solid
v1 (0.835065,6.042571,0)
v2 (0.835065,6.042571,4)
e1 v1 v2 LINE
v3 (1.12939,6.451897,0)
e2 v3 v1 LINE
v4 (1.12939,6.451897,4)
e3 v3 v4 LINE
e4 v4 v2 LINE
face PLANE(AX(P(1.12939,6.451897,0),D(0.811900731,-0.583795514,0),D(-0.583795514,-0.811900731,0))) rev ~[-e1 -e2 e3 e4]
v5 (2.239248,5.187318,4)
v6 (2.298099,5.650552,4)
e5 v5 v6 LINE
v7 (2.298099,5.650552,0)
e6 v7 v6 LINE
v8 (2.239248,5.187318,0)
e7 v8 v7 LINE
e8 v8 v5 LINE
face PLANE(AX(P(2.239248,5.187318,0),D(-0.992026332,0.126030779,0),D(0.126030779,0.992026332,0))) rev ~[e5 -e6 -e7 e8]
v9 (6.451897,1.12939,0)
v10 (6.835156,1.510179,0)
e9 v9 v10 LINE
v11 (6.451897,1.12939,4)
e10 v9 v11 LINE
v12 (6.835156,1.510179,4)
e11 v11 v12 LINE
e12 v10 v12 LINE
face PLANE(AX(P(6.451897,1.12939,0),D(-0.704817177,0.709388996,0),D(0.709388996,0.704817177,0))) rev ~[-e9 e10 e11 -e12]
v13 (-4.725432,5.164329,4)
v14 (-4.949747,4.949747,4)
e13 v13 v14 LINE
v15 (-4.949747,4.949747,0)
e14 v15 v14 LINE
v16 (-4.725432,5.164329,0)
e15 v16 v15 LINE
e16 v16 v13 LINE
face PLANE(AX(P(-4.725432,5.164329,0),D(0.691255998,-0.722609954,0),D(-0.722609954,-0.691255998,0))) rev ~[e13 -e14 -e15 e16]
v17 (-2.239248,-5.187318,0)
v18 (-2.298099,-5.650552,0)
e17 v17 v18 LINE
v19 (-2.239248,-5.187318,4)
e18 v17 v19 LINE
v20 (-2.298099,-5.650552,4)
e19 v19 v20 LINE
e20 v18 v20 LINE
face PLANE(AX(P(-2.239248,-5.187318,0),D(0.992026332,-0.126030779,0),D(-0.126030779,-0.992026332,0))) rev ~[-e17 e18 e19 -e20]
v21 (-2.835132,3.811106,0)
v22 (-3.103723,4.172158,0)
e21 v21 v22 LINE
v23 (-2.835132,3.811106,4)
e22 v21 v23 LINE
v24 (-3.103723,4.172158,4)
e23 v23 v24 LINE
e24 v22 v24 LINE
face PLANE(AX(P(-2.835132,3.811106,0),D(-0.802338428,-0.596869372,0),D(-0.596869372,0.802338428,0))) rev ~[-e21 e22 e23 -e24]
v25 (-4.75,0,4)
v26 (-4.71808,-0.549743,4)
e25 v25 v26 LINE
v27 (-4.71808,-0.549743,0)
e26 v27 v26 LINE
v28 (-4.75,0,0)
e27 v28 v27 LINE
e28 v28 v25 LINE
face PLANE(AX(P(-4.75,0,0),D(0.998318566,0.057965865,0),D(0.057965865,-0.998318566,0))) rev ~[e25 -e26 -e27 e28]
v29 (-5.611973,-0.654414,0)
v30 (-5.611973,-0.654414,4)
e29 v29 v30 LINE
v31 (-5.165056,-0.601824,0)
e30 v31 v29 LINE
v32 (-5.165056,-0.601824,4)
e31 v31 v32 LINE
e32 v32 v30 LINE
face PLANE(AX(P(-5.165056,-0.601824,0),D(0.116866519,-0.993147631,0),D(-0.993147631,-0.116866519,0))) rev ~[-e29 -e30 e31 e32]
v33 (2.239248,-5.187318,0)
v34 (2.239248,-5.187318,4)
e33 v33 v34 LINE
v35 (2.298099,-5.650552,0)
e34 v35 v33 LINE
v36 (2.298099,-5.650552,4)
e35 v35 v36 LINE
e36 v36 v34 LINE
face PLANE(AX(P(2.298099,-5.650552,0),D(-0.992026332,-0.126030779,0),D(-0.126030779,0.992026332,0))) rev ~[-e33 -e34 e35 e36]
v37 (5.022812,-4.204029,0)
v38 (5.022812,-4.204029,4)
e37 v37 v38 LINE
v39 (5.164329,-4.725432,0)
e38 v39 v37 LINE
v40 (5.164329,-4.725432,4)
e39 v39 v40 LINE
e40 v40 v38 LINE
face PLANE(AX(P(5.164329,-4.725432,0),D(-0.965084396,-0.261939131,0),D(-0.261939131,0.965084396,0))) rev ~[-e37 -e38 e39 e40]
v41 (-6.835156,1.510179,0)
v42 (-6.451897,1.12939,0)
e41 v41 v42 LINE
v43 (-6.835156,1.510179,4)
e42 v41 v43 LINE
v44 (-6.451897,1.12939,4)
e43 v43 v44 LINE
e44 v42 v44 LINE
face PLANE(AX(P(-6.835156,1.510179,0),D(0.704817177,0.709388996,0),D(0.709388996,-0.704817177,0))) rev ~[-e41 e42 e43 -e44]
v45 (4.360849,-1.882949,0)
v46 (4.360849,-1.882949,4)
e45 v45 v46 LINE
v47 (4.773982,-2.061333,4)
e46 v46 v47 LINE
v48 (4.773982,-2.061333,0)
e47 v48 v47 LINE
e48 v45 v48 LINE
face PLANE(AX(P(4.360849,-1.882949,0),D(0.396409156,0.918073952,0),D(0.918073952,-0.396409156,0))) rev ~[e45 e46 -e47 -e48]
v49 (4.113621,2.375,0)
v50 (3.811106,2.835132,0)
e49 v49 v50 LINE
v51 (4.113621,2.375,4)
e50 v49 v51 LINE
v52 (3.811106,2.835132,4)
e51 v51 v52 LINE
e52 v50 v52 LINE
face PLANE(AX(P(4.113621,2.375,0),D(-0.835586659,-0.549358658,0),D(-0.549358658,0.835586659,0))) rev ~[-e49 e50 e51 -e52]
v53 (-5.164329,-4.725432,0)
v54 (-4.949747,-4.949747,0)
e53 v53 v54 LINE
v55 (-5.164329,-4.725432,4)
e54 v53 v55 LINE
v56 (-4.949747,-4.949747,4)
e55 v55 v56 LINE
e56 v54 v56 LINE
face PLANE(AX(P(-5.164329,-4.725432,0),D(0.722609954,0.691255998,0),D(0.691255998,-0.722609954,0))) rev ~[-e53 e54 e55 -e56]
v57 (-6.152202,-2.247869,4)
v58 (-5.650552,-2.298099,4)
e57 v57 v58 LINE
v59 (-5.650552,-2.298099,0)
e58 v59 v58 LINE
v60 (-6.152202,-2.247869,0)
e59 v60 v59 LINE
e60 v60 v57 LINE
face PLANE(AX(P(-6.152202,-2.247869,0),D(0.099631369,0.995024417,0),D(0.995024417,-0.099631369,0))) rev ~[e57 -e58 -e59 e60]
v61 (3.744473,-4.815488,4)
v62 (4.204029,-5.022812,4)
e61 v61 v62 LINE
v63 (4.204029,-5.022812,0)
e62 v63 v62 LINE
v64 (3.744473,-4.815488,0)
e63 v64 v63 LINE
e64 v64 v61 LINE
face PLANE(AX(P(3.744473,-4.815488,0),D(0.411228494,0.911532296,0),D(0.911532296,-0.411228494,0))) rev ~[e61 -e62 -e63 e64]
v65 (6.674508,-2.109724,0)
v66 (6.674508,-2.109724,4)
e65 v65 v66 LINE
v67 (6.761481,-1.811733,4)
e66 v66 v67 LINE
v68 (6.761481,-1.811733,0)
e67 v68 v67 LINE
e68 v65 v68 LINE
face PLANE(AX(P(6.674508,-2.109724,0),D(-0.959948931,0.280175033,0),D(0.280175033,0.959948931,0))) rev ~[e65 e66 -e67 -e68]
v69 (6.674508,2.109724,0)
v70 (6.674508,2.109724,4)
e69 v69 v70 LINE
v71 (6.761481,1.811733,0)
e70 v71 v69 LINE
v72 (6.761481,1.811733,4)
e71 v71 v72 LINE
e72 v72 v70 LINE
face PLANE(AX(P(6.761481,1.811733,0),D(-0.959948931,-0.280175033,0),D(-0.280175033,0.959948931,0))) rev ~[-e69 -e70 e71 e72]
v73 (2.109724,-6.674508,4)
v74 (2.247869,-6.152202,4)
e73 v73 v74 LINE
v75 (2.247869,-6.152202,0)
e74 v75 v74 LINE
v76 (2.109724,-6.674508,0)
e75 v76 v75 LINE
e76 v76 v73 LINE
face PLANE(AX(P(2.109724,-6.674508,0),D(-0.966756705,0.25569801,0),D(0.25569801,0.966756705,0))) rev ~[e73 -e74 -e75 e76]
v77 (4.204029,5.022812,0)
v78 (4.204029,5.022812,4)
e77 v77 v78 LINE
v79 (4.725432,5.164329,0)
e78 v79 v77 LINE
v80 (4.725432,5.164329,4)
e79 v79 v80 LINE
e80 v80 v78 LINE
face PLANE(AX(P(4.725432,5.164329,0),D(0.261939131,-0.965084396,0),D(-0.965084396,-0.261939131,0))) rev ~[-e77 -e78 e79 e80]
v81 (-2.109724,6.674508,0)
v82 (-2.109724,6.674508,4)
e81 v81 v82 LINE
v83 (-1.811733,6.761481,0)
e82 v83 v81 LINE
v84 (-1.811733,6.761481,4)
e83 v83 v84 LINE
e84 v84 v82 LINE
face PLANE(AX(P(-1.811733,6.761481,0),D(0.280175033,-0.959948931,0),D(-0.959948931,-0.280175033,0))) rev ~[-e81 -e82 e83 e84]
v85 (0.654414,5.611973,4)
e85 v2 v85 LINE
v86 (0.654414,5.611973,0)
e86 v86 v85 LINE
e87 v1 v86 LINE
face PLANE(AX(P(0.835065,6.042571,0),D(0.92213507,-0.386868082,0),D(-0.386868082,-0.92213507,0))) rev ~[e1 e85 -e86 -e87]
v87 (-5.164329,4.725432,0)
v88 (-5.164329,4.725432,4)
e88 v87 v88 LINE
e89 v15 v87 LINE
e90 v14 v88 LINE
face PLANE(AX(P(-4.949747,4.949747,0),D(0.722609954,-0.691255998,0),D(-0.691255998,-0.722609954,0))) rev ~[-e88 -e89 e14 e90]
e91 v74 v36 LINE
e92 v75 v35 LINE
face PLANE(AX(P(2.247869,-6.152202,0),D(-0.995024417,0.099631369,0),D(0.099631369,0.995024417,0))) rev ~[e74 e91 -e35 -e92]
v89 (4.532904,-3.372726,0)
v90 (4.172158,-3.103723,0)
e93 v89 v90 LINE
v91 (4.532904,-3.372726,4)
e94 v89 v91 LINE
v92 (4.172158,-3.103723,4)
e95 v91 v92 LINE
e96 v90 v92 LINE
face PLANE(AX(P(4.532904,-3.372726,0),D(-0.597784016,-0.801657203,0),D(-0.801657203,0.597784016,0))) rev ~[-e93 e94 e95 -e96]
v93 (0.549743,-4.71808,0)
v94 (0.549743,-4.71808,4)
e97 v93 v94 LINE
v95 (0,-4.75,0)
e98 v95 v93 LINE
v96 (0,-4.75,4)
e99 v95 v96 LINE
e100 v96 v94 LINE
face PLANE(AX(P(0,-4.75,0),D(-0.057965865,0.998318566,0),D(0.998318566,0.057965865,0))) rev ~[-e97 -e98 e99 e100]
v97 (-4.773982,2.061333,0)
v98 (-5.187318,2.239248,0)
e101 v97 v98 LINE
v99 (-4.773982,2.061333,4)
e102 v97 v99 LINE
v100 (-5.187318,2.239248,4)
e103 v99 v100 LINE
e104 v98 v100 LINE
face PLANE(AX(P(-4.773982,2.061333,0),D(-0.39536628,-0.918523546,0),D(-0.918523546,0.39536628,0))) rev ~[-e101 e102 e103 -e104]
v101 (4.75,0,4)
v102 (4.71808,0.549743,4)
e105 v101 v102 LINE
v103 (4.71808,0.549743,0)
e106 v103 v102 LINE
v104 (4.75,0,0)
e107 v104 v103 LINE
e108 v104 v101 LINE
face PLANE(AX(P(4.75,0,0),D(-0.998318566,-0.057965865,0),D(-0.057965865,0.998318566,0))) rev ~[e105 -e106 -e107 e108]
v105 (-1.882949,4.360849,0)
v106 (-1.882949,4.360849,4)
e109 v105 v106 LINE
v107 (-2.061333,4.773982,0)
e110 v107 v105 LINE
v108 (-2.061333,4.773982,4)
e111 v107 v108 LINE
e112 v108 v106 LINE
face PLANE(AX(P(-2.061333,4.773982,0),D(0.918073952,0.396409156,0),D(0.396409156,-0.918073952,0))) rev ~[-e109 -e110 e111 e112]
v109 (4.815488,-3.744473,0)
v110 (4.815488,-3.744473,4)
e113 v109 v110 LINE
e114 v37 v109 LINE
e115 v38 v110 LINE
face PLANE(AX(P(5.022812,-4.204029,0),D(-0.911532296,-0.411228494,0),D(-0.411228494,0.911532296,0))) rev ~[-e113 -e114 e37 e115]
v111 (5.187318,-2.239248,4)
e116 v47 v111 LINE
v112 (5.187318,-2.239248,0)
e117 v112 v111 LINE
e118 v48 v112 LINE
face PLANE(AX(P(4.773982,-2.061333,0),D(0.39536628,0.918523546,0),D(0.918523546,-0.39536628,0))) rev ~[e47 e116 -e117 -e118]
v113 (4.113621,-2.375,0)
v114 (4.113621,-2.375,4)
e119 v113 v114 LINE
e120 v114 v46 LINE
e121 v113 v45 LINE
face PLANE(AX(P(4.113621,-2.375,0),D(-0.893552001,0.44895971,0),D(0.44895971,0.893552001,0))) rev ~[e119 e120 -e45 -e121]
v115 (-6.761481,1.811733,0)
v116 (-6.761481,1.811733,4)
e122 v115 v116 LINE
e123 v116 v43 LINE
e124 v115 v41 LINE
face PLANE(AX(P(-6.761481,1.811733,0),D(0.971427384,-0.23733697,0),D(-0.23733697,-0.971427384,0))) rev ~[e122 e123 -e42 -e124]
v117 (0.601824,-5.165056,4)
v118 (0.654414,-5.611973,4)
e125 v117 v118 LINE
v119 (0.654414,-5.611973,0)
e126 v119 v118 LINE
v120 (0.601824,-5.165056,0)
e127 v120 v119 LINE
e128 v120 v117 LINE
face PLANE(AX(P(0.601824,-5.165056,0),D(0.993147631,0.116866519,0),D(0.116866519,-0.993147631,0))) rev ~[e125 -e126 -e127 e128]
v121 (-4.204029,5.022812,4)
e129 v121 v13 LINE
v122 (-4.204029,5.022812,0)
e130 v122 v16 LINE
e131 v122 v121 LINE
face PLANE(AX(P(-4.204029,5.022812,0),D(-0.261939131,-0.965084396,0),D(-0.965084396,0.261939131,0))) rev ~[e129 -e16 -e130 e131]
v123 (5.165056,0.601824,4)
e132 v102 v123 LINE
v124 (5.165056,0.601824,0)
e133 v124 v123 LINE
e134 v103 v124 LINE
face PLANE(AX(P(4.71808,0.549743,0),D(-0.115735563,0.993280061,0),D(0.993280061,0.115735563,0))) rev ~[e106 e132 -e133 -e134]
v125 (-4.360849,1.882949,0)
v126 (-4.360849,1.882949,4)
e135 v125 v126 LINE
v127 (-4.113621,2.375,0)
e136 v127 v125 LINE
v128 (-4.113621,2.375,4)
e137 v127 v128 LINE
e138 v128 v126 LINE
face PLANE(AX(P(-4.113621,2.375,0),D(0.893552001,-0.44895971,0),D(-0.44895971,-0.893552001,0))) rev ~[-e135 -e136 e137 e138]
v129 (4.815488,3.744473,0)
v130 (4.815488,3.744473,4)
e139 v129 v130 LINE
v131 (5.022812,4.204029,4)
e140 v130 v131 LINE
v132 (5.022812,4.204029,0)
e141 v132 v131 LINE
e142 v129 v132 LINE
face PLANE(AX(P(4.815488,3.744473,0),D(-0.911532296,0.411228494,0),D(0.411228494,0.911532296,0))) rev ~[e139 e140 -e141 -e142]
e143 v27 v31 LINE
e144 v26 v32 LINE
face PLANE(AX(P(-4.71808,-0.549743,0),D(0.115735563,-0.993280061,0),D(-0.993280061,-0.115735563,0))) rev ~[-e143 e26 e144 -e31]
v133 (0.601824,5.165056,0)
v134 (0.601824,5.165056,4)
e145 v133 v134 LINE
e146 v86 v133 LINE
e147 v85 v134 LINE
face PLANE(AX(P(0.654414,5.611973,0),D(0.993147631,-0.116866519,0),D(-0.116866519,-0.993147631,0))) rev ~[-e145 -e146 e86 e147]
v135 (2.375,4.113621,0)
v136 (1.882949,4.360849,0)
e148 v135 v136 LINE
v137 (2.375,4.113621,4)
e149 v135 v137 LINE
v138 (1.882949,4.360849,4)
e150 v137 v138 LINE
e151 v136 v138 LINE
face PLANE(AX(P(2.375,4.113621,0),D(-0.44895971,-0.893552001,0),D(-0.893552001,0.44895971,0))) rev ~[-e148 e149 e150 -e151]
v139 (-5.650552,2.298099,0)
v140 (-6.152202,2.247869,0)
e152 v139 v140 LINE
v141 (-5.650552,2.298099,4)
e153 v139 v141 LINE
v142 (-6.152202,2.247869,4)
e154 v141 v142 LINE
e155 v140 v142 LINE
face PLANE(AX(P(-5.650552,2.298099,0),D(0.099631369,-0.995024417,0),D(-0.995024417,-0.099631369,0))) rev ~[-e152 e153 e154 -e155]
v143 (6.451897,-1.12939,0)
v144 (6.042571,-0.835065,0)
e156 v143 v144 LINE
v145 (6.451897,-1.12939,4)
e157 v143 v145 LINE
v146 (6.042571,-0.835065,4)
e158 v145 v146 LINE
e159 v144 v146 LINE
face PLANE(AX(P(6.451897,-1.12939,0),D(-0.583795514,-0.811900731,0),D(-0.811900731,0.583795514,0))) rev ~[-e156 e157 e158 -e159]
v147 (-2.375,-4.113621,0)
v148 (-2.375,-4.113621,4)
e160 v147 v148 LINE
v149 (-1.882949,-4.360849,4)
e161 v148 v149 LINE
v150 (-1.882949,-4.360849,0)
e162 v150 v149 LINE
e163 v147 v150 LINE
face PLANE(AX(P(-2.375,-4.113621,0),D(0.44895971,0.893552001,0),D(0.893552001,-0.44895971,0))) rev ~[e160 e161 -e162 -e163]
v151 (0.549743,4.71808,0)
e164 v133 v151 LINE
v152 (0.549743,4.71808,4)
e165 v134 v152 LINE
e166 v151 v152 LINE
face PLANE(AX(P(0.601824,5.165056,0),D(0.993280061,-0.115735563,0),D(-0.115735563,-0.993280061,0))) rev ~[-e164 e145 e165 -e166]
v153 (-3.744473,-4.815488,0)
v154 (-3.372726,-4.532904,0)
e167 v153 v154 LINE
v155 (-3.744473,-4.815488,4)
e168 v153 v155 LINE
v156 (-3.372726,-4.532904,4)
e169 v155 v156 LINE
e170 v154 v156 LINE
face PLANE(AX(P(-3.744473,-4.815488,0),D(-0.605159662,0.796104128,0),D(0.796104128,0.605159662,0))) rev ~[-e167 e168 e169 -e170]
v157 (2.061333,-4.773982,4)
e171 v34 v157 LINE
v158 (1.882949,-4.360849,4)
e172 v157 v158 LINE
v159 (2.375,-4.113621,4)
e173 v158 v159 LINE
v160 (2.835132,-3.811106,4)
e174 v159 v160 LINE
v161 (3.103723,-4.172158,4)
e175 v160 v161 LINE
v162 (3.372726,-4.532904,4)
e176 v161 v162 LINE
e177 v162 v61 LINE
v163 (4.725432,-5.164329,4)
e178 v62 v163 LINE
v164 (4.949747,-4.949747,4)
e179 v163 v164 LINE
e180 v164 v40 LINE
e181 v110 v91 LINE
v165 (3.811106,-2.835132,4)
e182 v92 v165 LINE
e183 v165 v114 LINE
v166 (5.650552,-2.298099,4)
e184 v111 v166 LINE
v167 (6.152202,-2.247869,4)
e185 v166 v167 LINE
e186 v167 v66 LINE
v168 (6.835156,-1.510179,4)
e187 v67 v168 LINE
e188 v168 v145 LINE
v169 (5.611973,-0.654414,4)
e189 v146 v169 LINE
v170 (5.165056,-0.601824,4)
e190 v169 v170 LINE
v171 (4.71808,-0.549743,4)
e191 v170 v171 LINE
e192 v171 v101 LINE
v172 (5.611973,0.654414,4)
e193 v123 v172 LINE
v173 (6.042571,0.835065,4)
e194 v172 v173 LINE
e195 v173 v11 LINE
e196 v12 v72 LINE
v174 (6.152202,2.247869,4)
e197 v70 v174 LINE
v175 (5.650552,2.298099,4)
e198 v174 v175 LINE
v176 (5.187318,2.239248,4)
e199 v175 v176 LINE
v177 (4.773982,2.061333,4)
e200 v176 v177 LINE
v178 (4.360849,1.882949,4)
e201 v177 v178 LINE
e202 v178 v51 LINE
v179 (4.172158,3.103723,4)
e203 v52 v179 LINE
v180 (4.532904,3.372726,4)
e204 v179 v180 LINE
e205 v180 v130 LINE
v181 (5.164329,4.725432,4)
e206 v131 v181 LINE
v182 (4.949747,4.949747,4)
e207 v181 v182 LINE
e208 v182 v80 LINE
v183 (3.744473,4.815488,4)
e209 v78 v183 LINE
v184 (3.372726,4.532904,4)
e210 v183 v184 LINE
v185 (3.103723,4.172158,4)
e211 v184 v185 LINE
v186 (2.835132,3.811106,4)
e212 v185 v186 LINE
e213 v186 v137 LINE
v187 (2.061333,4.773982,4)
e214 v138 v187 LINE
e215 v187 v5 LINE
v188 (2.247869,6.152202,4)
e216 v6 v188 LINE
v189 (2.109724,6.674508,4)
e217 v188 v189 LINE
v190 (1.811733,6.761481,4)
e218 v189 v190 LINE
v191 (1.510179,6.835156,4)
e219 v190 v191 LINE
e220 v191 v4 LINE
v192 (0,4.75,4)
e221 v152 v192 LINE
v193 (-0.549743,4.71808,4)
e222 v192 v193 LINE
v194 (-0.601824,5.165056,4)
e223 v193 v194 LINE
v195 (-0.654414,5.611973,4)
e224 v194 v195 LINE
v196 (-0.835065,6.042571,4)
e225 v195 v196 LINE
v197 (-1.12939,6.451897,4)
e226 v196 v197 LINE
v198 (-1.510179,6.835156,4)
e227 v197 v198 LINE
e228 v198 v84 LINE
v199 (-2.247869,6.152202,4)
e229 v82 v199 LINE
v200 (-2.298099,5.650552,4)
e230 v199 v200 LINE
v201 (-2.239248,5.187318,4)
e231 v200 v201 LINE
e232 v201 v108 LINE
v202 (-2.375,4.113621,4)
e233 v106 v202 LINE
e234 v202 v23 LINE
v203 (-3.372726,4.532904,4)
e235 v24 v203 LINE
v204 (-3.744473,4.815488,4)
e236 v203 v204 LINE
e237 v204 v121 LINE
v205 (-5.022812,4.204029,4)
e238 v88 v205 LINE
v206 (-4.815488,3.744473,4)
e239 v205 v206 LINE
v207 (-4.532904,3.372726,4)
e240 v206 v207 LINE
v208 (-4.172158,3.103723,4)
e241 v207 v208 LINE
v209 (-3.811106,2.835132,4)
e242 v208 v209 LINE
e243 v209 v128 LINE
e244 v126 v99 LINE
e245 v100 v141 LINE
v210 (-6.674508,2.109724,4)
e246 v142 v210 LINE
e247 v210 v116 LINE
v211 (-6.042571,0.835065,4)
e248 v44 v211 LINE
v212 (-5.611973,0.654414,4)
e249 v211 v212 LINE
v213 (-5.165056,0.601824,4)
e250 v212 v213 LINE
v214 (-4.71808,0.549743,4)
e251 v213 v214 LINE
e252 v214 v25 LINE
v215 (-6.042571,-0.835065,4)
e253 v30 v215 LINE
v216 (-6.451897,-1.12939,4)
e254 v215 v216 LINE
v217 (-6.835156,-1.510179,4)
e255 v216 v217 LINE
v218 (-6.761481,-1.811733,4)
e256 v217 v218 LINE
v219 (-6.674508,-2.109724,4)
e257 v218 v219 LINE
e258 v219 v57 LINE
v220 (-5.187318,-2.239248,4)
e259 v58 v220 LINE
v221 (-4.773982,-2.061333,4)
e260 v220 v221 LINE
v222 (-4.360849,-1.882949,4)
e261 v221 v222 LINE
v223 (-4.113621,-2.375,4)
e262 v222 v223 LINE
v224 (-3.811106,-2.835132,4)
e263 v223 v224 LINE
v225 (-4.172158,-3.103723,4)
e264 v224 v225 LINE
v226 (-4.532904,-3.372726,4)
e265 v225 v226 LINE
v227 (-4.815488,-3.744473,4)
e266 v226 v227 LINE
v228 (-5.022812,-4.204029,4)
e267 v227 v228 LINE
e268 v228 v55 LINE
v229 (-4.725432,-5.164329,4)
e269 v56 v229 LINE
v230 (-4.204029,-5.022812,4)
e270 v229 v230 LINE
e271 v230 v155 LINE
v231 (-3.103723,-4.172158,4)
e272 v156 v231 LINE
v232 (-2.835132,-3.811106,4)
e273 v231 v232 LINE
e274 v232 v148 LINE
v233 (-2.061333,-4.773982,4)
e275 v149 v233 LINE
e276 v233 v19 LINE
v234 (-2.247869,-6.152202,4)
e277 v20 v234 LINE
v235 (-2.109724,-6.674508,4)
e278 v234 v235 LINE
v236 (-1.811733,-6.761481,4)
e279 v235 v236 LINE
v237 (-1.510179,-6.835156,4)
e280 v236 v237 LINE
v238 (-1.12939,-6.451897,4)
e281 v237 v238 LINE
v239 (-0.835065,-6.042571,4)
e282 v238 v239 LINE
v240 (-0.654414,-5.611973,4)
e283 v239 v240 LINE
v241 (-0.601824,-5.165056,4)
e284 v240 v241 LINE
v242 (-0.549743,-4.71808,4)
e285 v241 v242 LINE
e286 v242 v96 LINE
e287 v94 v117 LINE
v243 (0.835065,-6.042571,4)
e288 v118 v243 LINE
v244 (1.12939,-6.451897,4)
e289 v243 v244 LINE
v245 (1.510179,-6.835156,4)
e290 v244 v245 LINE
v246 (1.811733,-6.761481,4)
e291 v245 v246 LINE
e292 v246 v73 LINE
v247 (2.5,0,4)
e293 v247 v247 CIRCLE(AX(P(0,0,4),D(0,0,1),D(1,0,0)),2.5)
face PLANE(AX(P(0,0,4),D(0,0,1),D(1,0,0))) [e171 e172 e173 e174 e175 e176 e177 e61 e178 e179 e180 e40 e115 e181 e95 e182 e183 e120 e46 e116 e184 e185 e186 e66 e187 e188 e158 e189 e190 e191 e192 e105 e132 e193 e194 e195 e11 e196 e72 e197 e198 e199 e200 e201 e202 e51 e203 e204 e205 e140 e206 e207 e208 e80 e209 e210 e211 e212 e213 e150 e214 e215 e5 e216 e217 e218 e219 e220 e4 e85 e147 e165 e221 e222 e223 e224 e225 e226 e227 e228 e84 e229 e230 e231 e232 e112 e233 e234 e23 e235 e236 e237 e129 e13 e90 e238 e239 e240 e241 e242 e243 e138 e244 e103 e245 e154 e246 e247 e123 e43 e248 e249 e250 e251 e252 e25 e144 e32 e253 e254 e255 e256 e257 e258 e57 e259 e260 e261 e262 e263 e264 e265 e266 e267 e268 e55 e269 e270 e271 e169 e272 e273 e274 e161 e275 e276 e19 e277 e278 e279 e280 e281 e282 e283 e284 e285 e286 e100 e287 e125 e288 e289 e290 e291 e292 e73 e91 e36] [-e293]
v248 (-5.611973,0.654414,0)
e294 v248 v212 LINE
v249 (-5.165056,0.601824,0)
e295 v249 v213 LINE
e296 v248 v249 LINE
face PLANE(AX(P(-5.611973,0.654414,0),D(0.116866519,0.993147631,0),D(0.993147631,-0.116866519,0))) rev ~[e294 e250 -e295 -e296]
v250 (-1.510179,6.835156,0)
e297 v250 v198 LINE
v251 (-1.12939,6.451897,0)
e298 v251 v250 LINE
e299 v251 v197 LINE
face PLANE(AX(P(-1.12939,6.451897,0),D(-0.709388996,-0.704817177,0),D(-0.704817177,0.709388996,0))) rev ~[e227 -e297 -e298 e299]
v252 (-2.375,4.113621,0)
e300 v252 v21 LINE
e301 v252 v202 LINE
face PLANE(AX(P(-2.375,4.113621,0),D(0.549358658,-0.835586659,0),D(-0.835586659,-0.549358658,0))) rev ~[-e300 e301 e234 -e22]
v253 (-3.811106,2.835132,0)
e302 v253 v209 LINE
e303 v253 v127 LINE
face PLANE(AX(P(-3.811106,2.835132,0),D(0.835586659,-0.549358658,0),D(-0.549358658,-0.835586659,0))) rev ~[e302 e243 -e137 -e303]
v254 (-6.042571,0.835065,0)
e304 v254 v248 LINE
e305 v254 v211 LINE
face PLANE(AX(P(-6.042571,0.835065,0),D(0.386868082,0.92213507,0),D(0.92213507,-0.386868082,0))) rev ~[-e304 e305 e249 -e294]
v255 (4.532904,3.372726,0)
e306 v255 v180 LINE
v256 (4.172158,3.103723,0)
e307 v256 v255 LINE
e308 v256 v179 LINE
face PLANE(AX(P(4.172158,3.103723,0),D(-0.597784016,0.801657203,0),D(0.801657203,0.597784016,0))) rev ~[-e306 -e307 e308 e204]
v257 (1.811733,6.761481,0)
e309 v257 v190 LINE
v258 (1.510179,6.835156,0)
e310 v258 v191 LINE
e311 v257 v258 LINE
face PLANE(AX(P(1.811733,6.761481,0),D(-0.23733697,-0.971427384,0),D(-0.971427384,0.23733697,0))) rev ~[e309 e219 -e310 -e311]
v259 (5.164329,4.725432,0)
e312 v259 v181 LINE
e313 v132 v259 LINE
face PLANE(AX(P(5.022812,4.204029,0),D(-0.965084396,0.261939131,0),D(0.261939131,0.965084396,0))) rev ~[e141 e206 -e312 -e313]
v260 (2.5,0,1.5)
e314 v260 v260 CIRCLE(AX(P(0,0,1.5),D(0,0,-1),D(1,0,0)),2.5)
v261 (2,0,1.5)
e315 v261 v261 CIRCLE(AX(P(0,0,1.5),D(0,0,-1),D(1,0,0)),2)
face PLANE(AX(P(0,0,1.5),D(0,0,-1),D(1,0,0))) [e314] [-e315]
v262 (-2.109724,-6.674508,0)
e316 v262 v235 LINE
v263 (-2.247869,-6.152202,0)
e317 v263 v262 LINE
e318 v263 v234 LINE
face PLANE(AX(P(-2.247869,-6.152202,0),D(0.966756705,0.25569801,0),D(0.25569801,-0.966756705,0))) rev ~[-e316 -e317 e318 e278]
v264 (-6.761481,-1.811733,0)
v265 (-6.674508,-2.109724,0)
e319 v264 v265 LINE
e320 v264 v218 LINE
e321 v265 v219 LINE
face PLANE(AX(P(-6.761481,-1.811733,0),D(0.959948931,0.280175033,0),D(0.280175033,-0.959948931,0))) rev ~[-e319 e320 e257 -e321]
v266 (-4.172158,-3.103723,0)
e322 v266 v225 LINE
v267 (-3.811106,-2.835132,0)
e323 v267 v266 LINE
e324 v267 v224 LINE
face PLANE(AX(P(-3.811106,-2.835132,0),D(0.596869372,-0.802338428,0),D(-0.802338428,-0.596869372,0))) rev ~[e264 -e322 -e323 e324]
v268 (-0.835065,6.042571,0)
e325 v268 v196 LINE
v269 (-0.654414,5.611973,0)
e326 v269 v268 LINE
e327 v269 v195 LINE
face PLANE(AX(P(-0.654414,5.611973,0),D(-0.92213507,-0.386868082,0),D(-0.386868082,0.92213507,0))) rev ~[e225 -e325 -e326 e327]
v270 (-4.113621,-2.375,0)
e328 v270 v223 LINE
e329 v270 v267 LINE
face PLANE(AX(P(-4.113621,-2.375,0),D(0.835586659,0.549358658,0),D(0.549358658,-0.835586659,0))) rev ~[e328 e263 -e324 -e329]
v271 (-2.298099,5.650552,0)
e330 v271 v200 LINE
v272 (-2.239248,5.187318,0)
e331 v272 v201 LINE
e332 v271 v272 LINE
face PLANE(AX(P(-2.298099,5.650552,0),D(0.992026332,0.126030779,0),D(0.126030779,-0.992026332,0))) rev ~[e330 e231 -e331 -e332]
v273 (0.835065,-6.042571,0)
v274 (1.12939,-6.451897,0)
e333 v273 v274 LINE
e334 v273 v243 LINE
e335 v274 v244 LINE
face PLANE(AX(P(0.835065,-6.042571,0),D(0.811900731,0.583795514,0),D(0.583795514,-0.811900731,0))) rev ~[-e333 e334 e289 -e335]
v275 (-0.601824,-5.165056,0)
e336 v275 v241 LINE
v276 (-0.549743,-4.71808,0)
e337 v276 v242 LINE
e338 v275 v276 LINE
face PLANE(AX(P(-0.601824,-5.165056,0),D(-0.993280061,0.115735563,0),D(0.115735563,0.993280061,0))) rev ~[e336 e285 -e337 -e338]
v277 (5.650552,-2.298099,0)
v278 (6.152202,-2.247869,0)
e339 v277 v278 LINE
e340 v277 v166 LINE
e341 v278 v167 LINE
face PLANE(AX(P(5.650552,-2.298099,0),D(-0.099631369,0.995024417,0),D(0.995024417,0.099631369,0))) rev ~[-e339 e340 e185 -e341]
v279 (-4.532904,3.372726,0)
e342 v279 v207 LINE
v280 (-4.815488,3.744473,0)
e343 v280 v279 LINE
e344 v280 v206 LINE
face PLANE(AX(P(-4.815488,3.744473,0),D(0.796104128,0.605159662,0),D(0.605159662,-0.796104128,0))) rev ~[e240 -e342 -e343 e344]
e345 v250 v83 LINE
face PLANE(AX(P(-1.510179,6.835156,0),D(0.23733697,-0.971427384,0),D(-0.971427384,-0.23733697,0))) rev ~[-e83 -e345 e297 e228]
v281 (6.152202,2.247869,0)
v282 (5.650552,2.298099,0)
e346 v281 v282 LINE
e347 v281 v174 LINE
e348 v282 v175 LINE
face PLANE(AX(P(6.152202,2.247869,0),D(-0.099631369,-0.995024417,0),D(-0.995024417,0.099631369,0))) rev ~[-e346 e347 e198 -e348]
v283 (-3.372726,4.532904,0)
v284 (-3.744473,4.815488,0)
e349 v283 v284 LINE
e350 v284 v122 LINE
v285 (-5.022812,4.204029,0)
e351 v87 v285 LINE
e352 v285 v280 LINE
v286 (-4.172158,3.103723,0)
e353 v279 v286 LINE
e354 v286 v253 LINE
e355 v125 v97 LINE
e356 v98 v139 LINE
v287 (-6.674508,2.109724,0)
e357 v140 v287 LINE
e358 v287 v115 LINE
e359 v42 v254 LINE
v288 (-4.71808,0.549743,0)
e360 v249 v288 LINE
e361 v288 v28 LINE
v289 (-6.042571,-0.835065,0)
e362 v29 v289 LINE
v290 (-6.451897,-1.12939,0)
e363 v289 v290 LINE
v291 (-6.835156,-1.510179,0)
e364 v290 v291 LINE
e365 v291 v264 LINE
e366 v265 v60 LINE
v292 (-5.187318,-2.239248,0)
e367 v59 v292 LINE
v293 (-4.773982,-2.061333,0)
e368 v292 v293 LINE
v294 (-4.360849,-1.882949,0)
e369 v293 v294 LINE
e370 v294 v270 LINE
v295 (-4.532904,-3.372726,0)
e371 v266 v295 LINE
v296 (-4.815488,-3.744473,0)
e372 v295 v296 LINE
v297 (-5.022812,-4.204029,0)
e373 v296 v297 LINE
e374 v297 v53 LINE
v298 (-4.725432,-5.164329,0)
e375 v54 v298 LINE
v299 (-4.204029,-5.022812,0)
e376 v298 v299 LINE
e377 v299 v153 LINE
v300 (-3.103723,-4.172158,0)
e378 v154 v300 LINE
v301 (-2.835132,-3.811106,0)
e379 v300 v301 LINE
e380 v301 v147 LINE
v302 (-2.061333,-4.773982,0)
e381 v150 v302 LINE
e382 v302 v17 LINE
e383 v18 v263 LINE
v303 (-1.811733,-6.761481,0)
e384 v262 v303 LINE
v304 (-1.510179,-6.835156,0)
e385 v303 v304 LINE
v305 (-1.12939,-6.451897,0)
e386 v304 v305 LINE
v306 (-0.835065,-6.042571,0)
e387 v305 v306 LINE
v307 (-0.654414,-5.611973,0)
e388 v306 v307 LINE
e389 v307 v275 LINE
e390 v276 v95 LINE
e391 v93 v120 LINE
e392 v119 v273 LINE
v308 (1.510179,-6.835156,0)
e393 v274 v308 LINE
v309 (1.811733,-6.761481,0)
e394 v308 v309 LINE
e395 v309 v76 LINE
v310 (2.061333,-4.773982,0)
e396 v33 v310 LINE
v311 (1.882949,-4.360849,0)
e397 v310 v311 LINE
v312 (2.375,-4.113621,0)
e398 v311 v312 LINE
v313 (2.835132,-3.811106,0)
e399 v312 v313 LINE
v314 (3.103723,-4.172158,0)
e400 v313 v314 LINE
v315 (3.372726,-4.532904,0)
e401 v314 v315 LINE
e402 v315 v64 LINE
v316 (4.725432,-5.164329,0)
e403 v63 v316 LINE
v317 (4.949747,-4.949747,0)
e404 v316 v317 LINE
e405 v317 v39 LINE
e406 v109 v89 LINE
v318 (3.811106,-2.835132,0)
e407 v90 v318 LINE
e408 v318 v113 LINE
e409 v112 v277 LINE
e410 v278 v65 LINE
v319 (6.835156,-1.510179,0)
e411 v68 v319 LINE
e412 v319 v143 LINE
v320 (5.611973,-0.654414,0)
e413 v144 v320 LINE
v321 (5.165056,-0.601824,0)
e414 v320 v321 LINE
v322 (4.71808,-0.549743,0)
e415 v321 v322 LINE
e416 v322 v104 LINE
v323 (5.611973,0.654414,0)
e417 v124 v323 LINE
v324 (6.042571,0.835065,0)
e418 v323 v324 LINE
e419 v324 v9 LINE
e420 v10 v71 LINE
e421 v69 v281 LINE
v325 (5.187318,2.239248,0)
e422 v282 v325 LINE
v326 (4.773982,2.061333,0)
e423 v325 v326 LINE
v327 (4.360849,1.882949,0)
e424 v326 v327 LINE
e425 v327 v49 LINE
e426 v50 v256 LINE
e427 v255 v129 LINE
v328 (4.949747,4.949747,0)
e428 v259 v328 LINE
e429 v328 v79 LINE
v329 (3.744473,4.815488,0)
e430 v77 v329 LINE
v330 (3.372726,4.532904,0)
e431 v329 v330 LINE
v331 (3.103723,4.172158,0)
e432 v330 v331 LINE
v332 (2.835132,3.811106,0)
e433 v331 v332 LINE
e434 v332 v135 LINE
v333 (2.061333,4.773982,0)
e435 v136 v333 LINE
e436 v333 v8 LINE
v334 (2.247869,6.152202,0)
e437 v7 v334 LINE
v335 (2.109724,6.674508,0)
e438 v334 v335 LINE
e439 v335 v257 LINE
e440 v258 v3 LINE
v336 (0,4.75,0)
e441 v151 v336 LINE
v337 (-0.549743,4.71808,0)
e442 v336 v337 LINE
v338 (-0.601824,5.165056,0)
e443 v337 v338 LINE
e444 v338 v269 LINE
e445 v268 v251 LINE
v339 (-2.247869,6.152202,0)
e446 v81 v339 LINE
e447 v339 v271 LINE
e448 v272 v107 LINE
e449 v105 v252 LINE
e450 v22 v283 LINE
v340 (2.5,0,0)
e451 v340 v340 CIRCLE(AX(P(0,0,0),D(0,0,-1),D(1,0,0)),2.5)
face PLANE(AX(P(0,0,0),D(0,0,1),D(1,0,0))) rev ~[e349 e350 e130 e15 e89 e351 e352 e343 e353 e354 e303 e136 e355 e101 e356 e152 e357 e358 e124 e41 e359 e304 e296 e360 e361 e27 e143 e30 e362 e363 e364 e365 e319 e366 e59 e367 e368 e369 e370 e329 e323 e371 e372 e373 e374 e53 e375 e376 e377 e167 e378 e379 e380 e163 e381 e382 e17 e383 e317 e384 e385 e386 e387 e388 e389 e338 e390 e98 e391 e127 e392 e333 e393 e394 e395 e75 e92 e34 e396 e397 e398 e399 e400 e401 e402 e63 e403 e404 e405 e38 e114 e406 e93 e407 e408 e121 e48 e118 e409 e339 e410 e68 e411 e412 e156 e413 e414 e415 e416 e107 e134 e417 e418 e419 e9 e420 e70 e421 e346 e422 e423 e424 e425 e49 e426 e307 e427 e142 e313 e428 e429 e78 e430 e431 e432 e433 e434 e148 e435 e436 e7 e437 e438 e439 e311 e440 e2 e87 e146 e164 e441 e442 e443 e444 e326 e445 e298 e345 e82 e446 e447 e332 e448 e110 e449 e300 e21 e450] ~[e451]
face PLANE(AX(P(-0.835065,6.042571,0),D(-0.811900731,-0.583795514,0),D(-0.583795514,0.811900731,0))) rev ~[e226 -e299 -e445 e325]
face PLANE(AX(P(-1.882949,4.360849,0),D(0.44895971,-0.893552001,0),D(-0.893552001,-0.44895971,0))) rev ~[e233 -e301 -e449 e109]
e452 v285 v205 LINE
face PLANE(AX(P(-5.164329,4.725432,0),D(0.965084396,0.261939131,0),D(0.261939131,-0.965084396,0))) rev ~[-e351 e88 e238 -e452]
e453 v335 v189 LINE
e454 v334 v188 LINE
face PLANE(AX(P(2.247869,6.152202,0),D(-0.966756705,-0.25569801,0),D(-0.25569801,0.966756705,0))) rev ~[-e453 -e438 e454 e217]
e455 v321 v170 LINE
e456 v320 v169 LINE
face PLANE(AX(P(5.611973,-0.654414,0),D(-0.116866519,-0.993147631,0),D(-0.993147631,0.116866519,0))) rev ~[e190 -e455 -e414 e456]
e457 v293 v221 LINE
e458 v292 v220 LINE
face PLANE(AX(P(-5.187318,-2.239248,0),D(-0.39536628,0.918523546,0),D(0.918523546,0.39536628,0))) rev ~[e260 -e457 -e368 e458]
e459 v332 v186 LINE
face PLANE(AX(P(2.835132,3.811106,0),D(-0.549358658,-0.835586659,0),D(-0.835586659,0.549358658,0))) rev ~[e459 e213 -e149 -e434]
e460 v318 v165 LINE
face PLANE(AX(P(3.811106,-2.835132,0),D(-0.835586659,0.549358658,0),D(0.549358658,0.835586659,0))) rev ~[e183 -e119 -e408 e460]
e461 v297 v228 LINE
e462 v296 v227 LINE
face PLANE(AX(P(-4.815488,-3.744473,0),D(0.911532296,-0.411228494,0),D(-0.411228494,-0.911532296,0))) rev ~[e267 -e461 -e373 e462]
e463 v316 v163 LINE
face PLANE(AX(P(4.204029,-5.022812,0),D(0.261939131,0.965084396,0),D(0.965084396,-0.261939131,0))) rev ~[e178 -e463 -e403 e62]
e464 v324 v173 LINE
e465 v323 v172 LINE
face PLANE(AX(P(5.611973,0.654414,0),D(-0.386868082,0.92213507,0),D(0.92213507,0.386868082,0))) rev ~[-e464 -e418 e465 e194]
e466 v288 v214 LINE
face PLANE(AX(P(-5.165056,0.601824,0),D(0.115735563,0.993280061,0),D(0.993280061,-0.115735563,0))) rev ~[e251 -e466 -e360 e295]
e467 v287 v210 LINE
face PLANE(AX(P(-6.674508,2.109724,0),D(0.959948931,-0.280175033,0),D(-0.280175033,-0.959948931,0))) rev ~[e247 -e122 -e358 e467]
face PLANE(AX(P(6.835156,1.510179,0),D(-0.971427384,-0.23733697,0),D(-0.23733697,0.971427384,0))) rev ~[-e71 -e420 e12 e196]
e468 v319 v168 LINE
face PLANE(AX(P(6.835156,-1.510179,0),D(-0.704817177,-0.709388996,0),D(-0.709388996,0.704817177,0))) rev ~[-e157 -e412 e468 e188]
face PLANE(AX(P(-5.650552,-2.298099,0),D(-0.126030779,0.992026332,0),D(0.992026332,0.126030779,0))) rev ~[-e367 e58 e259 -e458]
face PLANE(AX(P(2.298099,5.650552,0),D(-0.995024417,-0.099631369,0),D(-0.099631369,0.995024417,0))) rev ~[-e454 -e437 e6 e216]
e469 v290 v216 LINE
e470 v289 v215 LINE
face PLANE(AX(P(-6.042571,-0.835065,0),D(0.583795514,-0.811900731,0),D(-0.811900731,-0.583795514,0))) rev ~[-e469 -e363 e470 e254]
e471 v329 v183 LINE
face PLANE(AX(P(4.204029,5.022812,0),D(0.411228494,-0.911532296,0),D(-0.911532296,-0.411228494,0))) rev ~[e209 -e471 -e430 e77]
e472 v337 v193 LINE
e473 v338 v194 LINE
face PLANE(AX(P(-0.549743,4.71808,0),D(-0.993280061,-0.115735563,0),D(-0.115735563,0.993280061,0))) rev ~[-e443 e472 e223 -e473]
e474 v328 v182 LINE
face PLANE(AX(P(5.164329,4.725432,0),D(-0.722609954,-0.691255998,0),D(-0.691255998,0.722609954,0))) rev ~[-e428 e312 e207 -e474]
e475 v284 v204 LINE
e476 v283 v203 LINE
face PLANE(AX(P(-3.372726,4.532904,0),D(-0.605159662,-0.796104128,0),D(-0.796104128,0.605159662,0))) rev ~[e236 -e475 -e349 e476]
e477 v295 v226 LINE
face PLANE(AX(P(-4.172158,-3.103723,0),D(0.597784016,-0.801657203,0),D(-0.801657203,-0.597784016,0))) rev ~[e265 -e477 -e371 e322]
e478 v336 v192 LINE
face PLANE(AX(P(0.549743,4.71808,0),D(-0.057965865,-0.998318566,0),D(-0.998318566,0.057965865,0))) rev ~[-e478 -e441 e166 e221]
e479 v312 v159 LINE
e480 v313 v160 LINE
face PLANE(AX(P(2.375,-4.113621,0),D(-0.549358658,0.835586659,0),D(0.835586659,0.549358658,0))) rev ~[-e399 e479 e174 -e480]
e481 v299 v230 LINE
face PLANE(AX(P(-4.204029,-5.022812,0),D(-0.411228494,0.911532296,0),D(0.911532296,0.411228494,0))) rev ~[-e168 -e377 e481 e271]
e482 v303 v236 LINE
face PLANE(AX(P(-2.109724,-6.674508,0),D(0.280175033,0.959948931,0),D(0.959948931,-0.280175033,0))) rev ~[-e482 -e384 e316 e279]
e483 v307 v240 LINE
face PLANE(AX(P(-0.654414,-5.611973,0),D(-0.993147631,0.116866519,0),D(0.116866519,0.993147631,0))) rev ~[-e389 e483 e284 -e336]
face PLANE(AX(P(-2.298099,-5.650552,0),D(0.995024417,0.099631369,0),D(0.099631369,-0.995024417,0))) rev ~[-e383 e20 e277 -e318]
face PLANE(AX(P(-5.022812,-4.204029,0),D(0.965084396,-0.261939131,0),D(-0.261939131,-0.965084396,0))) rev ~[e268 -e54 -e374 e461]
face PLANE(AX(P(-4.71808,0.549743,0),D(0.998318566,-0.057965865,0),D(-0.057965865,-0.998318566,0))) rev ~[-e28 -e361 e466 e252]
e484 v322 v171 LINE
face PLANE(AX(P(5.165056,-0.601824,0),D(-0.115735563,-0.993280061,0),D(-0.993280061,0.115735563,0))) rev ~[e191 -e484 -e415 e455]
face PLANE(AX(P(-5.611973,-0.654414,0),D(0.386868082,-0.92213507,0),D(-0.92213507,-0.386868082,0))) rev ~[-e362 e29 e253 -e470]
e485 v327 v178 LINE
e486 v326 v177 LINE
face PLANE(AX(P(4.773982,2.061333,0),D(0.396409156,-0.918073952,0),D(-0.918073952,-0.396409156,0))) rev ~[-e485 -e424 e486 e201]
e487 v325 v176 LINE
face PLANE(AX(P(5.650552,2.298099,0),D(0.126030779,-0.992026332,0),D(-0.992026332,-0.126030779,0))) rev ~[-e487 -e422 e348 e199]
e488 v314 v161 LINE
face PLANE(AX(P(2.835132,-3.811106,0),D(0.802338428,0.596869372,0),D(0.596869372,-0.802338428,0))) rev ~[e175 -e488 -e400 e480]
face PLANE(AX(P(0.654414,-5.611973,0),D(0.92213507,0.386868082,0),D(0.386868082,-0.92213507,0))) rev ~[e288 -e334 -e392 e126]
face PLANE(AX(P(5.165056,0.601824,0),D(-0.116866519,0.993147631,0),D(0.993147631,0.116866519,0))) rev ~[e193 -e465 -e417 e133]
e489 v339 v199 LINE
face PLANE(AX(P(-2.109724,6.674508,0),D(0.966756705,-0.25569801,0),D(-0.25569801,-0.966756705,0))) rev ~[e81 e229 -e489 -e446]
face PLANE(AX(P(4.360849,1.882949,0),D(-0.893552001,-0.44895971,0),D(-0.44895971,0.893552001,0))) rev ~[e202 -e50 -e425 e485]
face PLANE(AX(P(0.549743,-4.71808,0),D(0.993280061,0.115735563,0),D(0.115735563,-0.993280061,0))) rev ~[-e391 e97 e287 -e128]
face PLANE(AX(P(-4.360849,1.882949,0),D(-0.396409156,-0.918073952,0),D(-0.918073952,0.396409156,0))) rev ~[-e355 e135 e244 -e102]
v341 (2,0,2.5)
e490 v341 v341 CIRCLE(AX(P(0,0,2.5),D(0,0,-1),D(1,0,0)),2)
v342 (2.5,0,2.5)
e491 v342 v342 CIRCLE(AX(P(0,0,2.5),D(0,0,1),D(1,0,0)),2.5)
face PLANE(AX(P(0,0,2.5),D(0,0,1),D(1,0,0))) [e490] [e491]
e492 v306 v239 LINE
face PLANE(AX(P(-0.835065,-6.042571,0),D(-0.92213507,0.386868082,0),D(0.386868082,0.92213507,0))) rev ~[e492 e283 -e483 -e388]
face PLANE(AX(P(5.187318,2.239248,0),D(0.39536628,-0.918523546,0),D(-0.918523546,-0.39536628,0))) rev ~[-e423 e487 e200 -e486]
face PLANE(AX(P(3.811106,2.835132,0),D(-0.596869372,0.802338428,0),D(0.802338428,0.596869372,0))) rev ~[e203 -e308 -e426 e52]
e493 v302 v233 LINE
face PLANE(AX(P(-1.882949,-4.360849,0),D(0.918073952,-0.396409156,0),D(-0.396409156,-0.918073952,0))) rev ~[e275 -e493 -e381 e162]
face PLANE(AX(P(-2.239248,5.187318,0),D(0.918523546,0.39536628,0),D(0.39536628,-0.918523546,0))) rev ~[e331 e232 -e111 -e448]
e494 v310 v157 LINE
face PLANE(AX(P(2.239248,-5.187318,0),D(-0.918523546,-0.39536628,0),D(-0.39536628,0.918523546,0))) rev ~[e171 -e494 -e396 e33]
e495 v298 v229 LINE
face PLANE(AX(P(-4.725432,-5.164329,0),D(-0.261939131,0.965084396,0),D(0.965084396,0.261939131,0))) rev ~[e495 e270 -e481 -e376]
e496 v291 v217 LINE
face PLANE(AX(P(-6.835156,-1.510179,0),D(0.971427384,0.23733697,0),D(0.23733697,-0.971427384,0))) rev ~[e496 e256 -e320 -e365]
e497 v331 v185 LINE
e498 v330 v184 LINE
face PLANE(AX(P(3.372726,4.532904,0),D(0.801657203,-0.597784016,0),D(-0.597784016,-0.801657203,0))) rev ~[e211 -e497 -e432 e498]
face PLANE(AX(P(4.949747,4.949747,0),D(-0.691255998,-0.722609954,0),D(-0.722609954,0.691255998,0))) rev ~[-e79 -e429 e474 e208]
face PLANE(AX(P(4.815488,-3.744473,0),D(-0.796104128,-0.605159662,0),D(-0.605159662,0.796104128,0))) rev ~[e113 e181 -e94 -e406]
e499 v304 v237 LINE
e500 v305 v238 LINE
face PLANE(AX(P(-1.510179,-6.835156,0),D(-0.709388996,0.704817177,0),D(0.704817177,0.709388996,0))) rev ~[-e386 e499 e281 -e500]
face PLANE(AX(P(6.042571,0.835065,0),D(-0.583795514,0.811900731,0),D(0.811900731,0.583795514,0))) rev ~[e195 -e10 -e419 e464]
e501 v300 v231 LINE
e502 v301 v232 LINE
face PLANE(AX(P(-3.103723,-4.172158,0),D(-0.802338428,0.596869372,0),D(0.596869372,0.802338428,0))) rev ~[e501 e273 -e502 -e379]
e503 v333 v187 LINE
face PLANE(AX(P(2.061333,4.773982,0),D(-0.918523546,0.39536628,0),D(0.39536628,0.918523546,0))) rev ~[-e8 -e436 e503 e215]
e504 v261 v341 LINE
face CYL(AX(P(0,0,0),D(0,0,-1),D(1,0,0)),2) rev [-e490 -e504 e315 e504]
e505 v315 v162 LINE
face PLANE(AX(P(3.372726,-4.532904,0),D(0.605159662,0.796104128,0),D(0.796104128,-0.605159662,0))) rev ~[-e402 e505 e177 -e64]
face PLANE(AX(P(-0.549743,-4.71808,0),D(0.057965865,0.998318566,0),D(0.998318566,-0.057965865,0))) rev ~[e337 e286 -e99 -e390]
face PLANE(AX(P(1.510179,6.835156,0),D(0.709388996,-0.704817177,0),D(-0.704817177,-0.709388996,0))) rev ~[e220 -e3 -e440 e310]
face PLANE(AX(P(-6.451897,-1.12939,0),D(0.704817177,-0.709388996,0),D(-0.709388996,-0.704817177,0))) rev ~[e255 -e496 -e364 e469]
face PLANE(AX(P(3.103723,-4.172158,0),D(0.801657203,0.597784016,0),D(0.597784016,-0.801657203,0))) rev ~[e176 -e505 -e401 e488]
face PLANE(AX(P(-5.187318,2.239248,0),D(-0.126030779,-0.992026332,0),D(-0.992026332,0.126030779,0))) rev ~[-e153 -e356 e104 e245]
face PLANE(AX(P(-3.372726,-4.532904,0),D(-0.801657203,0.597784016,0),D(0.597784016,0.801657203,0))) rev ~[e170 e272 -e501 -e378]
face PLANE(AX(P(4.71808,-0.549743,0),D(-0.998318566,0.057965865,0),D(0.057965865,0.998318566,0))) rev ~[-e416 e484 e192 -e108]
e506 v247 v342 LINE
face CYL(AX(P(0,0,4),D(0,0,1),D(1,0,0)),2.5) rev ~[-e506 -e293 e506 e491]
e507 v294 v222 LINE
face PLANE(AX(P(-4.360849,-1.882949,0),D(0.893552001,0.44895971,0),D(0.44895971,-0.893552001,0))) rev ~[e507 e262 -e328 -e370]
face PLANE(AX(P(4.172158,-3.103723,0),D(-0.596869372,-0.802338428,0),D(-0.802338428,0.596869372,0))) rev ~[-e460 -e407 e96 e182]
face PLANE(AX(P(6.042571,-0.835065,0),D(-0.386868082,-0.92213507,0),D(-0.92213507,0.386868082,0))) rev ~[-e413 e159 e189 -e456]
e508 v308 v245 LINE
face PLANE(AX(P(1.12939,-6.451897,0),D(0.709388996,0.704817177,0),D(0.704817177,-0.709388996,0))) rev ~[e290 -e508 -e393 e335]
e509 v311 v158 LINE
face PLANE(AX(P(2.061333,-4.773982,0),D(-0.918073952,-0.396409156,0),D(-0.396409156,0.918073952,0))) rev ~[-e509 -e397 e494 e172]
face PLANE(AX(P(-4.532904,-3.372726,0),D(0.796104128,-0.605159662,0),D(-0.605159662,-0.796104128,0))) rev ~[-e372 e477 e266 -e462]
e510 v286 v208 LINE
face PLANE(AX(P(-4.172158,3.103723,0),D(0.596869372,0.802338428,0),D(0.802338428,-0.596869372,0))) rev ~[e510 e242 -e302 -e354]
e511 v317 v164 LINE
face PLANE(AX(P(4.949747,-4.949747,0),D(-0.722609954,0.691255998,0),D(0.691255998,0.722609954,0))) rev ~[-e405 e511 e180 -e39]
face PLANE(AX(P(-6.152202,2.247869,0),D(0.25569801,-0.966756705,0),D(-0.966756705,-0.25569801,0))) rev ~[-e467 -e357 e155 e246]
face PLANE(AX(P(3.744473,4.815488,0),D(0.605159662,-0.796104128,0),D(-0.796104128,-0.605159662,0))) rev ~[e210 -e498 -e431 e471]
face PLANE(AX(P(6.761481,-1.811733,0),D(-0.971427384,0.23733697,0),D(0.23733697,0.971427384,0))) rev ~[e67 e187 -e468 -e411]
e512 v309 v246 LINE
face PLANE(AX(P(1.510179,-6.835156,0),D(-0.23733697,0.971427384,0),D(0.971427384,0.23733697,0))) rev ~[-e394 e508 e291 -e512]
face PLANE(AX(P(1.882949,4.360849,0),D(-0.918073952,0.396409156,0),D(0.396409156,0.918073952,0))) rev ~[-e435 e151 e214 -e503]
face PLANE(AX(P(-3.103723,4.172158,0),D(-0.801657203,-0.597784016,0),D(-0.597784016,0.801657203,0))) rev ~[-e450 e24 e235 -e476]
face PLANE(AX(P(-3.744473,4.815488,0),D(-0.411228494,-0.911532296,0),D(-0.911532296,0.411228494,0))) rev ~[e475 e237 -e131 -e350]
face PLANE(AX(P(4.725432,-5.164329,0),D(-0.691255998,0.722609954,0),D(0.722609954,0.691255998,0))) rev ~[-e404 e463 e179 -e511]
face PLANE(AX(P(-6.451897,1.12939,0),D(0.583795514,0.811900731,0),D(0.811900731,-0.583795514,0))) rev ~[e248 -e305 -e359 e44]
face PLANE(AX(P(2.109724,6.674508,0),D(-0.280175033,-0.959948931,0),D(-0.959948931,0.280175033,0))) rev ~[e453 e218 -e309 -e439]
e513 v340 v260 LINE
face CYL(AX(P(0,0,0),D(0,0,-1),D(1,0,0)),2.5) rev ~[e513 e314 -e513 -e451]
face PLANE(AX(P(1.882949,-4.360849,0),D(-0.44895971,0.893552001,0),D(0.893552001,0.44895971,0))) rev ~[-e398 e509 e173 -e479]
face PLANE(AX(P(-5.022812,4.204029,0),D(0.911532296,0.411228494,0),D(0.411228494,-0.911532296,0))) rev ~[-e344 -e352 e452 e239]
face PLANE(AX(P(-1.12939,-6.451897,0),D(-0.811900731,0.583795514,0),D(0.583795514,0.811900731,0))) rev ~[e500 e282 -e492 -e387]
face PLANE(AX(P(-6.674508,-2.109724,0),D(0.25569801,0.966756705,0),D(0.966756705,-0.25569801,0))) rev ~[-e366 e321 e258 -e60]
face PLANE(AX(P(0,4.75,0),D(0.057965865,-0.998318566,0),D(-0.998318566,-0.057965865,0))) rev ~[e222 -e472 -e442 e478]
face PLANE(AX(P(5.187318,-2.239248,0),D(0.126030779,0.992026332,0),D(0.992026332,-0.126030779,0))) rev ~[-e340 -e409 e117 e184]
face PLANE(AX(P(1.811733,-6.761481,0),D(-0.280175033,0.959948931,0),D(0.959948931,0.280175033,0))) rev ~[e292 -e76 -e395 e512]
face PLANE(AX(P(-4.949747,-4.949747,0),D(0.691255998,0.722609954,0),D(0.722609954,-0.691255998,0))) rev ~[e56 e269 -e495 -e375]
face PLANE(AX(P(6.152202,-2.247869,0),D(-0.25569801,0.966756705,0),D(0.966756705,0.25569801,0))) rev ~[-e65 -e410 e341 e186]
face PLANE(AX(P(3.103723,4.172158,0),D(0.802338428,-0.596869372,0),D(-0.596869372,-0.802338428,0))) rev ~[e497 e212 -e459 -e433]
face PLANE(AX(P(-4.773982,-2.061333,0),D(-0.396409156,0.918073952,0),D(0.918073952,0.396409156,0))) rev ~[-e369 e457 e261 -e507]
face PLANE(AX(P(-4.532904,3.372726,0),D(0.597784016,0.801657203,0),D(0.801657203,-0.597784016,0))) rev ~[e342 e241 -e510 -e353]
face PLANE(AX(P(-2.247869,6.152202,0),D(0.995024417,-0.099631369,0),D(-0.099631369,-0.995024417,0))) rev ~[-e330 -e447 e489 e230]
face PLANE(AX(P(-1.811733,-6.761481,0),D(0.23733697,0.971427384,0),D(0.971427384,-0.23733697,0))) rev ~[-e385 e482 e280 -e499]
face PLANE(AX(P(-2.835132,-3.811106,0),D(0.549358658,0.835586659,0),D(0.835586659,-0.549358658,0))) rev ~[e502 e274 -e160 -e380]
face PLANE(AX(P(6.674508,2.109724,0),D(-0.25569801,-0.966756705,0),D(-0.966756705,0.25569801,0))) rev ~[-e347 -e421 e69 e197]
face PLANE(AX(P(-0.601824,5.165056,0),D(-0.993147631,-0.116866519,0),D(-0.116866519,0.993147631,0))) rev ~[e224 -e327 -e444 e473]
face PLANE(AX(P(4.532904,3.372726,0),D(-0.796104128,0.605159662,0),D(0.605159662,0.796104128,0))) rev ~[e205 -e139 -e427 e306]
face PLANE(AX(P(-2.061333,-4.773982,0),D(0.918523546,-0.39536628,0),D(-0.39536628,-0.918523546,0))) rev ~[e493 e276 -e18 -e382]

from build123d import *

# Parameters (mm, degrees)
F0_R     = 2
F1_DEPTH = 4
F2_R     = 2.5
F3_DEPTH = 1.5
F4_R     = 2.5
F5_DEPTH = 1.5


with BuildPart() as f1:
    # F0 (on Top) → F1 (new body)
    with BuildSketch(Plane.XY):
        Polygon((4.71808, -0.549743), (4.75, 0), (4.71808, 0.549743), (5.165056, 0.601824), (5.611973, 0.654414), (6.042571, 0.835065), (6.451897, 1.12939), (6.835156, 1.510179), (6.761481, 1.811733), (6.674508, 2.109724), (6.152202, 2.247869), (5.650552, 2.298099), (5.187318, 2.239248), (4.773982, 2.061333), (4.360849, 1.882949), (4.113621, 2.375), (3.811106, 2.835132), (4.172158, 3.103723), (4.532904, 3.372726), (4.815488, 3.744473), (5.022812, 4.204029), (5.164329, 4.725432), (4.949747, 4.949747), (4.725432, 5.164329), (4.204029, 5.022812), (3.744473, 4.815488), (3.372726, 4.532904), (3.103723, 4.172158), (2.835132, 3.811106), (2.375, 4.113621), (1.882949, 4.360849), (2.061333, 4.773982), (2.239248, 5.187318), (2.298099, 5.650552), (2.247869, 6.152202), (2.109724, 6.674508), (1.811733, 6.761481), (1.510179, 6.835156), (1.12939, 6.451897), (0.835065, 6.042571), (0.654414, 5.611973), (0.601824, 5.165056), (0.549743, 4.71808), (0, 4.75), (-0.549743, 4.71808), (-0.601824, 5.165056), (-0.654414, 5.611973), (-0.835065, 6.042571), (-1.12939, 6.451897), (-1.510179, 6.835156), (-1.811733, 6.761481), (-2.109724, 6.674508), (-2.247869, 6.152202), (-2.298099, 5.650552), (-2.239248, 5.187318), (-2.061333, 4.773982), (-1.882949, 4.360849), (-2.375, 4.113621), (-2.835132, 3.811106), (-3.103723, 4.172158), (-3.372726, 4.532904), (-3.744473, 4.815488), (-4.204029, 5.022812), (-4.725432, 5.164329), (-4.949747, 4.949747), (-5.164329, 4.725432), (-5.022812, 4.204029), (-4.815488, 3.744473), (-4.532904, 3.372726), (-4.172158, 3.103723), (-3.811106, 2.835132), (-4.113621, 2.375), (-4.360849, 1.882949), (-4.773982, 2.061333), (-5.187318, 2.239248), (-5.650552, 2.298099), (-6.152202, 2.247869), (-6.674508, 2.109724), (-6.761481, 1.811733), (-6.835156, 1.510179), (-6.451897, 1.12939), (-6.042571, 0.835065), (-5.611973, 0.654414), (-5.165056, 0.601824), (-4.71808, 0.549743), (-4.75, 0), (-4.71808, -0.549743), (-5.165056, -0.601824), (-5.611973, -0.654414), (-6.042571, -0.835065), (-6.451897, -1.12939), (-6.835156, -1.510179), (-6.761481, -1.811733), (-6.674508, -2.109724), (-6.152202, -2.247869), (-5.650552, -2.298099), (-5.187318, -2.239248), (-4.773982, -2.061333), (-4.360849, -1.882949), (-4.113621, -2.375), (-3.811106, -2.835132), (-4.172158, -3.103723), (-4.532904, -3.372726), (-4.815488, -3.744473), (-5.022812, -4.204029), (-5.164329, -4.725432), (-4.949747, -4.949747), (-4.725432, -5.164329), (-4.204029, -5.022812), (-3.744473, -4.815488), (-3.372726, -4.532904), (-3.103723, -4.172158), (-2.835132, -3.811106), (-2.375, -4.113621), (-1.882949, -4.360849), (-2.061333, -4.773982), (-2.239248, -5.187318), (-2.298099, -5.650552), (-2.247869, -6.152202), (-2.109724, -6.674508), (-1.811733, -6.761481), (-1.510179, -6.835156), (-1.12939, -6.451897), (-0.835065, -6.042571), (-0.654414, -5.611973), (-0.601824, -5.165056), (-0.549743, -4.71808), (0, -4.75), (0.549743, -4.71808), (0.601824, -5.165056), (0.654414, -5.611973), (0.835065, -6.042571), (1.12939, -6.451897), (1.510179, -6.835156), (1.811733, -6.761481), (2.109724, -6.674508), (2.247869, -6.152202), (2.298099, -5.650552), (2.239248, -5.187318), (2.061333, -4.773982), (1.882949, -4.360849), (2.375, -4.113621), (2.835132, -3.811106), (3.103723, -4.172158), (3.372726, -4.532904), (3.744473, -4.815488), (4.204029, -5.022812), (4.725432, -5.164329), (4.949747, -4.949747), (5.164329, -4.725432), (5.022812, -4.204029), (4.815488, -3.744473), (4.532904, -3.372726), (4.172158, -3.103723), (3.811106, -2.835132), (4.113621, -2.375), (4.360849, -1.882949), (4.773982, -2.061333), (5.187318, -2.239248), (5.650552, -2.298099), (6.152202, -2.247869), (6.674508, -2.109724), (6.761481, -1.811733), (6.835156, -1.510179), (6.451897, -1.12939), (6.042571, -0.835065), (5.611973, -0.654414), (5.165056, -0.601824), align=None)
        with Locations((1e-06, 0)):
            Circle(F0_R, mode=Mode.SUBTRACT)
    extrude(amount=F1_DEPTH)

    # F2 (on face) → F3 (cut)
    with BuildSketch(Plane.XY.offset(4)):
        with Locations((1e-06, 0)):
            Circle(F2_R)
    extrude(amount=-F3_DEPTH, mode=Mode.SUBTRACT)

    # F4 (on face) → F5 (cut)
    with BuildSketch(Plane(origin=(0, 0, 0), x_dir=(1, 0, 0), z_dir=(0, 0, -1))):
        with Locations((1e-06, 0)):
            Circle(F4_R)
    extrude(amount=-F5_DEPTH, mode=Mode.SUBTRACT)


solid = f1.part
